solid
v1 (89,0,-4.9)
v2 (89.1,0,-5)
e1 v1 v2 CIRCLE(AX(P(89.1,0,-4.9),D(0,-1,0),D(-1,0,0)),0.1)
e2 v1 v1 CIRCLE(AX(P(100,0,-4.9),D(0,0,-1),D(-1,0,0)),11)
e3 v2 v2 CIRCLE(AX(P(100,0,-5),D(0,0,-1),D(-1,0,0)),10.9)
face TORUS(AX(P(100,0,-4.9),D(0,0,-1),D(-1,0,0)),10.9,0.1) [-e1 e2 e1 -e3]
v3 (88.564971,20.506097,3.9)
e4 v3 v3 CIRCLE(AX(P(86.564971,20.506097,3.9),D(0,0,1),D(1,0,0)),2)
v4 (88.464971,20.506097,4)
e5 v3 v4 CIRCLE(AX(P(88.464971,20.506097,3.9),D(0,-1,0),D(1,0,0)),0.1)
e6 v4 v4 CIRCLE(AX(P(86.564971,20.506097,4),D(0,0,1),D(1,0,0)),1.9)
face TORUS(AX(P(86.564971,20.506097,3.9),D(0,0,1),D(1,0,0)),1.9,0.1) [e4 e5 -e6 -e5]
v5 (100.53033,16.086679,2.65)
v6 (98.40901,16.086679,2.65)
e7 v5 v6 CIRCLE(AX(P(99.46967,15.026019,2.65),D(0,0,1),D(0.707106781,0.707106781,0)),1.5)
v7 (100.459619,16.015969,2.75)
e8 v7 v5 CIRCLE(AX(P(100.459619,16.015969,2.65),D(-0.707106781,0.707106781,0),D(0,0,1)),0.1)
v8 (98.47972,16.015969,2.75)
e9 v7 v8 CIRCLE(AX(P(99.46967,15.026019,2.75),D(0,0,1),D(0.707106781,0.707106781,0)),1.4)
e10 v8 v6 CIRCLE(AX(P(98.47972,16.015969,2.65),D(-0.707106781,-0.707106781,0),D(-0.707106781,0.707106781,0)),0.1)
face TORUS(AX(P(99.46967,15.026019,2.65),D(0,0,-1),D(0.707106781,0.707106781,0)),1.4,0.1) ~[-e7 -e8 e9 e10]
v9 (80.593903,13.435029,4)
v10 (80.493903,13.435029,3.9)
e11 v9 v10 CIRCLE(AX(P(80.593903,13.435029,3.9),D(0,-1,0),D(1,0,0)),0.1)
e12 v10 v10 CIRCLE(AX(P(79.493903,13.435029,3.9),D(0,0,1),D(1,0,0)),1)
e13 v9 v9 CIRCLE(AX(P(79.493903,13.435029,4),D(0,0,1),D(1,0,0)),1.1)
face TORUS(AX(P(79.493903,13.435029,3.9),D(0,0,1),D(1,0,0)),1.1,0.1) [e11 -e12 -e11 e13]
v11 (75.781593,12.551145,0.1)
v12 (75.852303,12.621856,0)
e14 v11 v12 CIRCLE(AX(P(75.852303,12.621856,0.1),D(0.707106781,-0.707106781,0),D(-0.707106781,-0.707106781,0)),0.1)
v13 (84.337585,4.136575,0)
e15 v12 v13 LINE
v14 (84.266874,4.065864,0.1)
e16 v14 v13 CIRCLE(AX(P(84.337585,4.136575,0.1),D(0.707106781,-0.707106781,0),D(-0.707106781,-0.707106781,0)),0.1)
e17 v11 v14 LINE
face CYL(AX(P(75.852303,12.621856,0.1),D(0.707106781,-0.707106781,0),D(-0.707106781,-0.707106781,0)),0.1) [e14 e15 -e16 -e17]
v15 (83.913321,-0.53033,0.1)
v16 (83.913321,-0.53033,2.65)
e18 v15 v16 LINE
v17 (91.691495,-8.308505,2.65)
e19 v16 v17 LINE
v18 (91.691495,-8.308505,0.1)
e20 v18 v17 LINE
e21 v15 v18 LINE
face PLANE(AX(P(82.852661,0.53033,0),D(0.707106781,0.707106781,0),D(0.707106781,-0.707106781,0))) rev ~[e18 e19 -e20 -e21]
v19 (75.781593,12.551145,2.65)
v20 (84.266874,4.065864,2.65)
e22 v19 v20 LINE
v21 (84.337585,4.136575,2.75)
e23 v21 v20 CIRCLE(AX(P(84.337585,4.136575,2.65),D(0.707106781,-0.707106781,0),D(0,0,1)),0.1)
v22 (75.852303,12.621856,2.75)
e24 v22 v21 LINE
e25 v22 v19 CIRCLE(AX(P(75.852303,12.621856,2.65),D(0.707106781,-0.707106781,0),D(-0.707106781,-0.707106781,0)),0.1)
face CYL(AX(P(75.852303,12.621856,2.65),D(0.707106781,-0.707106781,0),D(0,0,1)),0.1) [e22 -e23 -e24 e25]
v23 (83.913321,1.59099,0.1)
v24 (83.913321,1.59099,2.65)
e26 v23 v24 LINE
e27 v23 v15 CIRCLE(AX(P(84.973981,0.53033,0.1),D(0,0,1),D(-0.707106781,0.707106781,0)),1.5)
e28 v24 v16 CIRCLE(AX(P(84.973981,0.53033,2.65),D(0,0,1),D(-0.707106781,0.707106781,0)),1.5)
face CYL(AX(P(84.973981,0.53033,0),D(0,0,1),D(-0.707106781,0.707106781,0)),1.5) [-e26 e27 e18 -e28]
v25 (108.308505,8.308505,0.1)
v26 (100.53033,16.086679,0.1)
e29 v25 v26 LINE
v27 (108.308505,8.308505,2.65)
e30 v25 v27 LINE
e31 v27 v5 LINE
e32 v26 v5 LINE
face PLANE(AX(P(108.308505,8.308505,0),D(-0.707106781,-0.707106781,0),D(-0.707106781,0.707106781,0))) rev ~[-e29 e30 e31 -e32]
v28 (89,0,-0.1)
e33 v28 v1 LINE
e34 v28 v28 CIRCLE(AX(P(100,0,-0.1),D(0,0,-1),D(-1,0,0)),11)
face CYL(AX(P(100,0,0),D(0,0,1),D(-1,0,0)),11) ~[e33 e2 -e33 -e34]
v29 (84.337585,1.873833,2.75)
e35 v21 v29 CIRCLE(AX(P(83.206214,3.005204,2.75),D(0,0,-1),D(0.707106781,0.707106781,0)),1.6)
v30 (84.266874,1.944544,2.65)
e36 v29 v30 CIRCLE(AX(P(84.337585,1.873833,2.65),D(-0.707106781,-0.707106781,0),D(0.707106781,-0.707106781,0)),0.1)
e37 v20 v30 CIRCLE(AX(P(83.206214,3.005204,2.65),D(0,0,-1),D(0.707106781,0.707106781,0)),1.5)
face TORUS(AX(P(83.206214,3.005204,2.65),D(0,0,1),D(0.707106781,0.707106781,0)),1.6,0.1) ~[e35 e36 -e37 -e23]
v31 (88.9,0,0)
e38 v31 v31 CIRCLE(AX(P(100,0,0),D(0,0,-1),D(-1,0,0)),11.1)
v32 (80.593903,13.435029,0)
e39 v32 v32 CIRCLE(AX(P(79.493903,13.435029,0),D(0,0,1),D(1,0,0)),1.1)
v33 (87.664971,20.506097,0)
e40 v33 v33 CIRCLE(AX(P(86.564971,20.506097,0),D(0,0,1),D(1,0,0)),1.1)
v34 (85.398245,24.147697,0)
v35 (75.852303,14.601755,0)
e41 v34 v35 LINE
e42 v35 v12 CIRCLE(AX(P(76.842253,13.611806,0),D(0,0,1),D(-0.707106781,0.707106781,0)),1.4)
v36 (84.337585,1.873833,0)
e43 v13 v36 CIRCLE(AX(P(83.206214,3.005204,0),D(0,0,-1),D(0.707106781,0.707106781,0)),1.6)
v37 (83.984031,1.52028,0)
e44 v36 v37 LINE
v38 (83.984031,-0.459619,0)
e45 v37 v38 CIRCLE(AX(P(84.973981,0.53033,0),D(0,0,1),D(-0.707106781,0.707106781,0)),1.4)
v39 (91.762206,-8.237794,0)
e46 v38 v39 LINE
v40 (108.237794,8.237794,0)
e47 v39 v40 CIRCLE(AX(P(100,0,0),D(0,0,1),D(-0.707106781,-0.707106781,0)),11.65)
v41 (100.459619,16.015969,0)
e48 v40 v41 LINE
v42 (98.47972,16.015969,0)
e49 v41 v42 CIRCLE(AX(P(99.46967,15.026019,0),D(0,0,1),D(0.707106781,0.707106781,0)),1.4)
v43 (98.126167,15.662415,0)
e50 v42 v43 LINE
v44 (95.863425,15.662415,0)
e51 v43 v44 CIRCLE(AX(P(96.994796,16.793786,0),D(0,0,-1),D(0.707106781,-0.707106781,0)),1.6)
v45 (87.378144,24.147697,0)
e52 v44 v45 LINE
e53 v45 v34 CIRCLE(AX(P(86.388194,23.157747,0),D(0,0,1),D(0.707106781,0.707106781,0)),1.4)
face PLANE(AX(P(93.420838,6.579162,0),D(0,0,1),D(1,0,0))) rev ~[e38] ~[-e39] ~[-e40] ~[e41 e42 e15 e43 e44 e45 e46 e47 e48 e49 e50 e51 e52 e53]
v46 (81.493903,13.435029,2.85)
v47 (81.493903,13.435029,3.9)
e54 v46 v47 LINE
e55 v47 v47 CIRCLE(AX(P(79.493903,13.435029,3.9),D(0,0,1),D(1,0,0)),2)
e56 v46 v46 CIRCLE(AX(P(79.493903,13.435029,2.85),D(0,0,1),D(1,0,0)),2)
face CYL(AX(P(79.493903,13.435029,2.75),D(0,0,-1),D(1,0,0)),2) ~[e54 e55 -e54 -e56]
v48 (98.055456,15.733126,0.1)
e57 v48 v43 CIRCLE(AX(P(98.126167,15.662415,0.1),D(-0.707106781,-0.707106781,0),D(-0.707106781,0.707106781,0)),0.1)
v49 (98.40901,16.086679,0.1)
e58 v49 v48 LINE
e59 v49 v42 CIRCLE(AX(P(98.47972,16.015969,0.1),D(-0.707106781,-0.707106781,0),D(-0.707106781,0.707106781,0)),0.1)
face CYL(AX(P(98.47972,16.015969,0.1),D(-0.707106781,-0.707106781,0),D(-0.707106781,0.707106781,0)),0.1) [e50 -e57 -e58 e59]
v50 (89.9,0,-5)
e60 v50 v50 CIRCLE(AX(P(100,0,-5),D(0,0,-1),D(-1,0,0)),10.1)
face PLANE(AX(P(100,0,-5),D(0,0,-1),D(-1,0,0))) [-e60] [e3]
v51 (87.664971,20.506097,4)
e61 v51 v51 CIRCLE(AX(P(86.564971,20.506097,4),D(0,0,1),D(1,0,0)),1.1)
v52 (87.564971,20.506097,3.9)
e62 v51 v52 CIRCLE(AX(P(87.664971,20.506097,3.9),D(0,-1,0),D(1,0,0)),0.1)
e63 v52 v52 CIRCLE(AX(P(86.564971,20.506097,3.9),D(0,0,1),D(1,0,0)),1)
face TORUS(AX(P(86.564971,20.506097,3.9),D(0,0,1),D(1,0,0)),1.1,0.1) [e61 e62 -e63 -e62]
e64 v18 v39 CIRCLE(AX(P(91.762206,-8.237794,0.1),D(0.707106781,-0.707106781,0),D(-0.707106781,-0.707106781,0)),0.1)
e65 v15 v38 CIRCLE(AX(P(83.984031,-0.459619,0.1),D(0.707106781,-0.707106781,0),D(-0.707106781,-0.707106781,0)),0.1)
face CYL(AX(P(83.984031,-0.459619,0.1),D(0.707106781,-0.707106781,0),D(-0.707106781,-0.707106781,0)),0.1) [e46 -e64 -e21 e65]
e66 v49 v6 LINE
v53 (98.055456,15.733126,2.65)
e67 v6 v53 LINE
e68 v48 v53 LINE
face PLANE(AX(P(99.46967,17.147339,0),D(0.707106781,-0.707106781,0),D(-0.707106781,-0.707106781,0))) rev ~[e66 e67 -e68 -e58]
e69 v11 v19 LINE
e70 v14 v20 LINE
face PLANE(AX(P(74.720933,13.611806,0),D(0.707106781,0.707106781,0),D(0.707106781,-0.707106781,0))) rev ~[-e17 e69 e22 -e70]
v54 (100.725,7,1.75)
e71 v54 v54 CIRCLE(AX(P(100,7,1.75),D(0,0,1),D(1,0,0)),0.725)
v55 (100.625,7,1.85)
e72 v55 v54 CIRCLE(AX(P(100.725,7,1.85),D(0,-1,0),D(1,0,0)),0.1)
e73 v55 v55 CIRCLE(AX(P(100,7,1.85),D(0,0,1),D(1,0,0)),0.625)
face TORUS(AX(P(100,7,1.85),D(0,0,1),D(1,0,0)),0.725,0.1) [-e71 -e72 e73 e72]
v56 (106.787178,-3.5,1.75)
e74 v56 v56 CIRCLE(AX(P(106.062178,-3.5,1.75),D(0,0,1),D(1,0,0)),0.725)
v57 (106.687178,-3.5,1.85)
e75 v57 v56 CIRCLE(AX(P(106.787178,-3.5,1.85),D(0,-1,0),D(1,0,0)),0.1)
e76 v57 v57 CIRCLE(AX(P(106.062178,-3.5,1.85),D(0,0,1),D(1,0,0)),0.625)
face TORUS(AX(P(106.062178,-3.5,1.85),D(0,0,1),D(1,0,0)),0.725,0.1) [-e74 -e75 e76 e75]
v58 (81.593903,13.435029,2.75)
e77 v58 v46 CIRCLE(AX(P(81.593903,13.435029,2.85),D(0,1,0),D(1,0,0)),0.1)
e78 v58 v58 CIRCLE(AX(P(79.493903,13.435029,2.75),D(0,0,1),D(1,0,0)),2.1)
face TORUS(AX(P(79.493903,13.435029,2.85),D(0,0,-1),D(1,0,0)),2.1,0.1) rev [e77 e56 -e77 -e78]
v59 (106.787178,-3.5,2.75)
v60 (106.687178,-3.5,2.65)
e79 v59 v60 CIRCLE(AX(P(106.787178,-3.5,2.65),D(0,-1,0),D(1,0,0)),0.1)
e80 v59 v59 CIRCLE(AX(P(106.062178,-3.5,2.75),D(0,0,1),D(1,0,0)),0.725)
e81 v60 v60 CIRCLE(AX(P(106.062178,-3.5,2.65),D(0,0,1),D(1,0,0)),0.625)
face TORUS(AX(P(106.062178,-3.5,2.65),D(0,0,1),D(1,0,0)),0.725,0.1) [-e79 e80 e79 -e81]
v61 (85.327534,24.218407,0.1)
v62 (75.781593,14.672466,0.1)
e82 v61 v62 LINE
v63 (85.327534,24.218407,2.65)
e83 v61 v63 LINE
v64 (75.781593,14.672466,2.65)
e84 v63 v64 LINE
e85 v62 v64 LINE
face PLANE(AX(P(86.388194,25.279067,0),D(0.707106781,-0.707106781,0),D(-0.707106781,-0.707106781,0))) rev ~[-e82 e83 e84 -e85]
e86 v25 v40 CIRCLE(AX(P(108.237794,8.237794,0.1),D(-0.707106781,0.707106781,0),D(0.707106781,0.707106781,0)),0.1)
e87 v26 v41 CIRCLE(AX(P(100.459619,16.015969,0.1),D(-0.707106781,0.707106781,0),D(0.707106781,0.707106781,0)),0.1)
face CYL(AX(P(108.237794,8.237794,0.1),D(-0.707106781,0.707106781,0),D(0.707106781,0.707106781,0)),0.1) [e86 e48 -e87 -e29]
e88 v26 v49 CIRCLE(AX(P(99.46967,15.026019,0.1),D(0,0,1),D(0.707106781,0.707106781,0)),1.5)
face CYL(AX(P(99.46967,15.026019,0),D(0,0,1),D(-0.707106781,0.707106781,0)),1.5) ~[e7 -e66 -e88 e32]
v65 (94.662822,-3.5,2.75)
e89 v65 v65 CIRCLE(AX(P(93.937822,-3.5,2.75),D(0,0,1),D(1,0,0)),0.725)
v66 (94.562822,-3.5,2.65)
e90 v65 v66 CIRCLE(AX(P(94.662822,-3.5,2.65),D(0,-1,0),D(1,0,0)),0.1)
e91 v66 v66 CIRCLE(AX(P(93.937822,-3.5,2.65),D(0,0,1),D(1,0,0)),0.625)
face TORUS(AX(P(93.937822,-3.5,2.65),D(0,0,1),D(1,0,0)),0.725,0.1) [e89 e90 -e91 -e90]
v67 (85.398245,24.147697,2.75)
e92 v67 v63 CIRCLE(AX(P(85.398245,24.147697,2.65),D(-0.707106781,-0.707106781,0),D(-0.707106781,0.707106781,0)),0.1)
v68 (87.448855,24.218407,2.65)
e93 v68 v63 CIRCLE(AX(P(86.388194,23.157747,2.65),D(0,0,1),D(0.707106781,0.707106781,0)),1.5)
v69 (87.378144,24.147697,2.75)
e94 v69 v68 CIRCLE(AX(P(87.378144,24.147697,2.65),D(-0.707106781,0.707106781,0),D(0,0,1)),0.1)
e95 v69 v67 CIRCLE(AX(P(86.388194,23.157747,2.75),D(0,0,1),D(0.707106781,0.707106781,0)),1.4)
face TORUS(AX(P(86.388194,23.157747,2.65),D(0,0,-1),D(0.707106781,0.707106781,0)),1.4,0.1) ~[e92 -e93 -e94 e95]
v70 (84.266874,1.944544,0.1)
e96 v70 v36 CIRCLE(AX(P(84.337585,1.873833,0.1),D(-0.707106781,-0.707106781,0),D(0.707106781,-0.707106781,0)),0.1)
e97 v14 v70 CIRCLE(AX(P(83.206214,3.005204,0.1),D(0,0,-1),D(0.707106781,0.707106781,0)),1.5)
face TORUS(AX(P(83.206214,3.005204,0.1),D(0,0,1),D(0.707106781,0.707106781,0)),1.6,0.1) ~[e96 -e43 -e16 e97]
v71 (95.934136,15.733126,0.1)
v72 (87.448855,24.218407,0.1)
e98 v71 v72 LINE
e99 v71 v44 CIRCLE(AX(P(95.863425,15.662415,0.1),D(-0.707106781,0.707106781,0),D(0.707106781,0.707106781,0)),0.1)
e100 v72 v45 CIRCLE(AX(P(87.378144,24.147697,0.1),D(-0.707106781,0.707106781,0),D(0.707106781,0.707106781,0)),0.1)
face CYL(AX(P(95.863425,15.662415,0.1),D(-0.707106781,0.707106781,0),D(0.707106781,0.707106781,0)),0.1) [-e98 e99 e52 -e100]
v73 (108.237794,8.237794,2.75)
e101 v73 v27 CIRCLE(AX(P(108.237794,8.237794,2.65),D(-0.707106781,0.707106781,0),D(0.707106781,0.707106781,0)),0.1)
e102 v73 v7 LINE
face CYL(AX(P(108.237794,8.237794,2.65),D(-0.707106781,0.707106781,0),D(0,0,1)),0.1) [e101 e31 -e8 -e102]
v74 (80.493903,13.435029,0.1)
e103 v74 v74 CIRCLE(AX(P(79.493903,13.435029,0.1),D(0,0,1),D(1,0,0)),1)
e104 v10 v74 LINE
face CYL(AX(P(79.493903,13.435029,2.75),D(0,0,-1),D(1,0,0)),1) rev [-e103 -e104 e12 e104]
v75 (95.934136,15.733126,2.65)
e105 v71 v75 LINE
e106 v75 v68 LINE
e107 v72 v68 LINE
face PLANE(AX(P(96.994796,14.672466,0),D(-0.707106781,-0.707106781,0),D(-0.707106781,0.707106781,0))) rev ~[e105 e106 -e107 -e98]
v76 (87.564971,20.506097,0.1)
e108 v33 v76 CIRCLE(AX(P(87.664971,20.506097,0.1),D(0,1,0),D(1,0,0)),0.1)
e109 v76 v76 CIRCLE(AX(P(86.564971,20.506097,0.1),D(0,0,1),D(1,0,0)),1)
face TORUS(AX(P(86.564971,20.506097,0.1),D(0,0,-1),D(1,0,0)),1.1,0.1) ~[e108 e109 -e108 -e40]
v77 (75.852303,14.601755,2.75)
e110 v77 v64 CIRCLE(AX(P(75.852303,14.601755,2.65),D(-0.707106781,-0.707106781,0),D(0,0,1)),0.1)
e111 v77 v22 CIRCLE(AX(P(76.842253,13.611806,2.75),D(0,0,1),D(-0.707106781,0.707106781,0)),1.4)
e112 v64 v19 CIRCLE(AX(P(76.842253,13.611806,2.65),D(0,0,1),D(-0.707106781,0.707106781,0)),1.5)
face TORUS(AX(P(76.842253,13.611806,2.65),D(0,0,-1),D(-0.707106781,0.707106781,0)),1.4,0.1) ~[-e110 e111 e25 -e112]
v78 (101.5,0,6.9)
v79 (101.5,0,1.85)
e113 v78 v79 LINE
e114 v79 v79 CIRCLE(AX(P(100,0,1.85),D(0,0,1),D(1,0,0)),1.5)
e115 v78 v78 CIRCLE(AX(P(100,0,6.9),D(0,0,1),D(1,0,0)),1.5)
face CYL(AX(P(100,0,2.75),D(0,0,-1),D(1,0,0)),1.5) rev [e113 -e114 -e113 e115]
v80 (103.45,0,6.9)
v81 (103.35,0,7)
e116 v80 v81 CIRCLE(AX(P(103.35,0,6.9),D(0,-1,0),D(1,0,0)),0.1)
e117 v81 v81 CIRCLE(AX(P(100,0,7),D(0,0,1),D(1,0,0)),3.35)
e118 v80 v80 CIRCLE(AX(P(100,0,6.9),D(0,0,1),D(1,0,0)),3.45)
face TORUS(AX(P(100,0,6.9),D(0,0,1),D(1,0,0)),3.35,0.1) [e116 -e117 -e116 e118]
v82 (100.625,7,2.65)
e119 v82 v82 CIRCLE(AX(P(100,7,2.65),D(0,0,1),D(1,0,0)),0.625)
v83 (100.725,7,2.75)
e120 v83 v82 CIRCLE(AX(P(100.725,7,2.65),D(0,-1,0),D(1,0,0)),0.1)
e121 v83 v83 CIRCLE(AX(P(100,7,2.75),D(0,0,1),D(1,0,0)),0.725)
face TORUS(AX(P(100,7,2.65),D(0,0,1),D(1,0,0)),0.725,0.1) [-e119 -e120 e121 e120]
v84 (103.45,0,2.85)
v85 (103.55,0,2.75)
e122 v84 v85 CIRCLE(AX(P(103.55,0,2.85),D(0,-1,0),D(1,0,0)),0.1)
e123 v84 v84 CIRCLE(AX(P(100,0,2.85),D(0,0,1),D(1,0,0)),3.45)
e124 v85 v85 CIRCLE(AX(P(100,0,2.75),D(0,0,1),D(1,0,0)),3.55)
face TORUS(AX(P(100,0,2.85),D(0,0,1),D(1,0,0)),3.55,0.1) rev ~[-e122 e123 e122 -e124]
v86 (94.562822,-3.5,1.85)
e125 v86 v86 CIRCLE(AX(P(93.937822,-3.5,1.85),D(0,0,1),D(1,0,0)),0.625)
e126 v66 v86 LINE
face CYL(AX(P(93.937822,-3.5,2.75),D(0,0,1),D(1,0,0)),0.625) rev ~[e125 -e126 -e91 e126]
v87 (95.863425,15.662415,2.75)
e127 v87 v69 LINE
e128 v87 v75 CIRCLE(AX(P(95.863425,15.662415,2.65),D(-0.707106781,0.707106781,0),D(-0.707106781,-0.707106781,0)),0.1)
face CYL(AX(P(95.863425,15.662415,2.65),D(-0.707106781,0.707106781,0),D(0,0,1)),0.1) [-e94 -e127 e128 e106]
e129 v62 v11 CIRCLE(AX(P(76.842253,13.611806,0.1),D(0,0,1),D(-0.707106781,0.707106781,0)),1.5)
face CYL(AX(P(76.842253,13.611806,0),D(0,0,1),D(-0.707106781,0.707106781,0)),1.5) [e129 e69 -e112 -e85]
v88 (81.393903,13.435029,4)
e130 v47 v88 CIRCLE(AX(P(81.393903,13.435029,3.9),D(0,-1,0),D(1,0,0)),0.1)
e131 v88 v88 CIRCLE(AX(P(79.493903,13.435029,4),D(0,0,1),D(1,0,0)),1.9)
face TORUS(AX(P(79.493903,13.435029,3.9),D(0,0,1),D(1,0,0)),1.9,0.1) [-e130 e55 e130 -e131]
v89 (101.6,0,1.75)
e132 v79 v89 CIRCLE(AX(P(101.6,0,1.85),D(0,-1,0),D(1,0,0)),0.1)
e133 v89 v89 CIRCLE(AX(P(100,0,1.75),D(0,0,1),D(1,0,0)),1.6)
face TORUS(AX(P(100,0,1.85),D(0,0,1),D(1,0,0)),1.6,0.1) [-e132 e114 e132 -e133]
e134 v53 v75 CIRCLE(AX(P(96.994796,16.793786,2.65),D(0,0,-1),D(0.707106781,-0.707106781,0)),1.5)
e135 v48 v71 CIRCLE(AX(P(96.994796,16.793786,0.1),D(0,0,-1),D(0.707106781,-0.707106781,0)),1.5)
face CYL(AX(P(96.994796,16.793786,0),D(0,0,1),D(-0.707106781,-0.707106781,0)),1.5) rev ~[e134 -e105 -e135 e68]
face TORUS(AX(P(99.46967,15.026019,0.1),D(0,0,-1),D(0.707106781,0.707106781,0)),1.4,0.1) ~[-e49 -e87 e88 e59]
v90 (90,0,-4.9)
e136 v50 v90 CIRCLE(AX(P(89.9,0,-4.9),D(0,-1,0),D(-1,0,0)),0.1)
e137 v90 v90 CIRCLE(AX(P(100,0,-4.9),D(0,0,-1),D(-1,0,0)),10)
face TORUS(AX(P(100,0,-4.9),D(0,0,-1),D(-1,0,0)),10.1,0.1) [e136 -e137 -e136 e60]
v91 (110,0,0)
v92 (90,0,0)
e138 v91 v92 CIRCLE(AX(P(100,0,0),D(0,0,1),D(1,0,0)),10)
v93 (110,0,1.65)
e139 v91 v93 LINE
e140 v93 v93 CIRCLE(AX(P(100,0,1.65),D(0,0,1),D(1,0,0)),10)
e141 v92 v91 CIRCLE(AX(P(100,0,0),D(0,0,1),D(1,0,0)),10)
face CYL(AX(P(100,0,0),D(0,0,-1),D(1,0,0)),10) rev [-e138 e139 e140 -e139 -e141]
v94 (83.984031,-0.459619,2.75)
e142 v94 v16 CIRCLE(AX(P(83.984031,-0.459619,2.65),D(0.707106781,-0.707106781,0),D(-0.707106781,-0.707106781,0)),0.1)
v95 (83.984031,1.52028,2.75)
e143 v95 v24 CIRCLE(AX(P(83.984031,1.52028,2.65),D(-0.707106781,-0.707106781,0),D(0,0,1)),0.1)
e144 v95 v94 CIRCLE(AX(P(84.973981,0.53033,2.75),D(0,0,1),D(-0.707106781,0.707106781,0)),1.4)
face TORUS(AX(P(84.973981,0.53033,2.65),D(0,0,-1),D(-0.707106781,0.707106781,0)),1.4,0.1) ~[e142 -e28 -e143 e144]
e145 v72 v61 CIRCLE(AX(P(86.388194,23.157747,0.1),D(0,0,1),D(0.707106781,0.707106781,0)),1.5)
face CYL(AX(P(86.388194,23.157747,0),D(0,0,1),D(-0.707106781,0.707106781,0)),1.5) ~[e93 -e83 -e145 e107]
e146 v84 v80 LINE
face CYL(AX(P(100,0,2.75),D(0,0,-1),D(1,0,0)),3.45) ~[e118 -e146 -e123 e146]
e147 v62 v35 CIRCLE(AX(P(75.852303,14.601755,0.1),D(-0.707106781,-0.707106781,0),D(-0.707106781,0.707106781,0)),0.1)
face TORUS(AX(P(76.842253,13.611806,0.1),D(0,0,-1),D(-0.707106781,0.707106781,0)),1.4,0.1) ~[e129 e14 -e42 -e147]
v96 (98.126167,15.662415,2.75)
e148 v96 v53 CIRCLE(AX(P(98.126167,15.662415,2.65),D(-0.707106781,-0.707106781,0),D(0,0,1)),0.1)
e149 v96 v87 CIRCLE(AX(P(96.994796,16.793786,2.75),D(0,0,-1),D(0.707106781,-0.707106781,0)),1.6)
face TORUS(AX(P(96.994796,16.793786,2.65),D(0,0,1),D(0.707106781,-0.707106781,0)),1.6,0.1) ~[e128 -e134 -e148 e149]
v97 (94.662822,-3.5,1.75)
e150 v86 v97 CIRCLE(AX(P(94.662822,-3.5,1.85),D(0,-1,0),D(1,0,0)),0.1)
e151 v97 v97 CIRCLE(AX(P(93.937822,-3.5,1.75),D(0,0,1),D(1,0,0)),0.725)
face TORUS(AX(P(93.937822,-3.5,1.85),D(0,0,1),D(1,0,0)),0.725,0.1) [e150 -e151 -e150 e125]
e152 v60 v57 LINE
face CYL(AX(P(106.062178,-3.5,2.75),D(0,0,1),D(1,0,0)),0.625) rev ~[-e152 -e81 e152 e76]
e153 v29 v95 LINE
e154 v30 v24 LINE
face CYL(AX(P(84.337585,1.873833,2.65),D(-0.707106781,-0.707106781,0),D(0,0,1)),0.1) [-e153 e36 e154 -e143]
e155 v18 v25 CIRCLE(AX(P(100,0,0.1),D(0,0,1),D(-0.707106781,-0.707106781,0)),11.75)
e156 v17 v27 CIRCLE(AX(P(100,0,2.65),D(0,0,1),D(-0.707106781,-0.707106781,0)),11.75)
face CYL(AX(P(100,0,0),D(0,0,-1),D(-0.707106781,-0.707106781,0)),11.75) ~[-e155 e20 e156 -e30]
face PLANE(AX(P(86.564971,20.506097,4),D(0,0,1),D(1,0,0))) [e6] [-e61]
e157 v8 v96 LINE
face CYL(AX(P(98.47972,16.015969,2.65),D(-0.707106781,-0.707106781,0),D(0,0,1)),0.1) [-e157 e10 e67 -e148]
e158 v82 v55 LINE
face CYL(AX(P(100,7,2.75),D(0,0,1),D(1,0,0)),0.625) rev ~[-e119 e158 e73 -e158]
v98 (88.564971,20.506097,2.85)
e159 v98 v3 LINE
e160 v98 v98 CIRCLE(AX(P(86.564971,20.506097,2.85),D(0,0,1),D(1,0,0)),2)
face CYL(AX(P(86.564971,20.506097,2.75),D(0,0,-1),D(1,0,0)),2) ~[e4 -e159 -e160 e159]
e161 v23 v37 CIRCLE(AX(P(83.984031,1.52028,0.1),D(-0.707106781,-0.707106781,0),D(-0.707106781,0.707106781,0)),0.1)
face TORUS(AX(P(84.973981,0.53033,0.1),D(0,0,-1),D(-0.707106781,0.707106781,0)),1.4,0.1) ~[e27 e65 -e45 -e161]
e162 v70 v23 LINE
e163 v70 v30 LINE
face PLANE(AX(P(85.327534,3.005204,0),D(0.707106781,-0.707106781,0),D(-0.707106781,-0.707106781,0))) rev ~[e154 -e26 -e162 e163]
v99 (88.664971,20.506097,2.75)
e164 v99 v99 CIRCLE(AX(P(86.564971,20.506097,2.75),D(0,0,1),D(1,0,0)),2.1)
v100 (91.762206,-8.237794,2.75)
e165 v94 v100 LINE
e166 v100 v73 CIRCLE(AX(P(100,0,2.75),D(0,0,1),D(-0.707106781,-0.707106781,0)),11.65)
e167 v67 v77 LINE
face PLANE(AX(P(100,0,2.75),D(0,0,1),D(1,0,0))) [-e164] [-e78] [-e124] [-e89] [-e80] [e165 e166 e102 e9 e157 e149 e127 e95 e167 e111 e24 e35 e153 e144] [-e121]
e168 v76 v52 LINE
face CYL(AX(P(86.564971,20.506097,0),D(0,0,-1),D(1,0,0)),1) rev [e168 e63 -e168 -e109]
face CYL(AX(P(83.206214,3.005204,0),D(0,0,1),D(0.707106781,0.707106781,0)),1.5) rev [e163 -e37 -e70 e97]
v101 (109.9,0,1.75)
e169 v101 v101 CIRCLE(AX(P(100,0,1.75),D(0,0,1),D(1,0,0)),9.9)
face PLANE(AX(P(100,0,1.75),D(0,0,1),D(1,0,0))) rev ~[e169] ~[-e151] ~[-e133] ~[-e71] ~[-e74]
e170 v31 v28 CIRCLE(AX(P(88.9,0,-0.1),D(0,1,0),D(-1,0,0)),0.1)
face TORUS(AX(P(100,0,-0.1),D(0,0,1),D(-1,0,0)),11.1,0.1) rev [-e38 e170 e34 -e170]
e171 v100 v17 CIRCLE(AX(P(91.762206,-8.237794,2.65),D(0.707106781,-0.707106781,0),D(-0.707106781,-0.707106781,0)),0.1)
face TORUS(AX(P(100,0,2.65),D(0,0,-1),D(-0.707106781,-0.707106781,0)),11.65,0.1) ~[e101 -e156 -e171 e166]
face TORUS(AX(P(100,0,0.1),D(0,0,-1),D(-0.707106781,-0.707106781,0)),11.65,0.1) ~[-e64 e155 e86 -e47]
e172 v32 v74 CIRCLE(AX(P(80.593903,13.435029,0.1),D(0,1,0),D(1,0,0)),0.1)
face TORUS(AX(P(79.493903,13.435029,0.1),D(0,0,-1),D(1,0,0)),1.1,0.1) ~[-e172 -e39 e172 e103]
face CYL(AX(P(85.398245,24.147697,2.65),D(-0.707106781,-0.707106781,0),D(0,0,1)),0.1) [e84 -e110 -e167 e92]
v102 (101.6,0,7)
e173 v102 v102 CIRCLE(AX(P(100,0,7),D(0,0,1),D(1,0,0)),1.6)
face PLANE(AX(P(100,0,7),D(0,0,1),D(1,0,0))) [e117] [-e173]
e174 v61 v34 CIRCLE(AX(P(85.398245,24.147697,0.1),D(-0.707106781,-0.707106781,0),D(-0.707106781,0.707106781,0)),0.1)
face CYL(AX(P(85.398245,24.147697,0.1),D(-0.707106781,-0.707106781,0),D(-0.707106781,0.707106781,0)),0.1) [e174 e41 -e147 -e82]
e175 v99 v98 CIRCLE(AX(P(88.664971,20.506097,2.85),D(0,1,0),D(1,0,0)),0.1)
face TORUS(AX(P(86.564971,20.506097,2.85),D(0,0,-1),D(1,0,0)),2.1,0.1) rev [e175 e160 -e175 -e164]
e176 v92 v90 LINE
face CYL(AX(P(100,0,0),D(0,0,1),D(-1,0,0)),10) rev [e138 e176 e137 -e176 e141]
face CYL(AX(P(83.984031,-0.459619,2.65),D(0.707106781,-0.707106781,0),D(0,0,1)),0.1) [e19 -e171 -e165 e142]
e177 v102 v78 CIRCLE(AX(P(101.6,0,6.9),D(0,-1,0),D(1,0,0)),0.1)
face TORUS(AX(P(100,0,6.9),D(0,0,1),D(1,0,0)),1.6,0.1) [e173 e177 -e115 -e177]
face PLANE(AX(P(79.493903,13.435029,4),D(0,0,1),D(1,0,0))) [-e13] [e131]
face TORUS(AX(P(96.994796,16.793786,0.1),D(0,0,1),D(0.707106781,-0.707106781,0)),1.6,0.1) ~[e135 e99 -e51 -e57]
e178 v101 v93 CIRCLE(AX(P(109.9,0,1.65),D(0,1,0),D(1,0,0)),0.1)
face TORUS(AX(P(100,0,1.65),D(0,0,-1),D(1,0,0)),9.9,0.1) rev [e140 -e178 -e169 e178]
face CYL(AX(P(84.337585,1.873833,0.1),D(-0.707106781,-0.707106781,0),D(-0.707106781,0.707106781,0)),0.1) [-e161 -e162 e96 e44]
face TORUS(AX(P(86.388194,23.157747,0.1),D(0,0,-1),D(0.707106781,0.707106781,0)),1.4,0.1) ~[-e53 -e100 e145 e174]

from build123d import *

# Parameters (mm, degrees)
SKETCH6_R           = 10
SKETCH6_R_2         = 1
BOSS_EXTRUDE1_DEPTH = 2.75
SKETCH7_R           = 10
BOSS_EXTRUDE2_DEPTH = 1
SKETCH9_R           = 11
SKETCH9_R_2         = 10
BOSS_EXTRUDE3_DEPTH = 5
FILLET1_R           = 1.5
SKETCH10_R          = 2
SKETCH10_R_2        = 1
BOSS_EXTRUDE4_DEPTH = 1.25
SKETCH11_R          = 1.5
CUT_EXTRUDE1_DEPTH  = 1
SKETCH12_R          = 3.45
SKETCH12_R_2        = 1.5
BOSS_EXTRUDE5_DEPTH = 4.25
SKETCH13_R          = 0.625
CUT_EXTRUDE2_DEPTH  = 1
FILLET2_R           = 0.1


with BuildPart() as part:
    # Sketch6 → Boss-Extrude1 (new body)
    with BuildSketch(Plane.XY):
        with BuildLine():
            Line((86.388194462, 25.279067427), (74.720932573, 13.611805538))
            Line((74.720932573, 13.611805538), (85.32753429, 3.00520382))
            Line((85.32753429, 3.00520382), (82.852660556, 0.530330086))
            Line((82.852660556, 0.530330086), (91.691495321, -8.308504679))
            ThreePointArc((91.691495321, -8.308504679), (108.308504679, -8.308504679), (108.308504679, 8.308504679))
            Line((108.308504679, 8.308504679), (99.469669914, 17.147339444))
            Line((99.469669914, 17.147339444), (96.99479618, 14.67246571))
            Line((96.99479618, 14.67246571), (86.388194462, 25.279067427))
        make_face()
        with Locations((100, 0)):
            Circle(SKETCH6_R, mode=Mode.SUBTRACT)
        with Locations((86.564971157, 20.506096654)):
            Circle(SKETCH6_R_2, mode=Mode.SUBTRACT)
        with Locations((79.493903346, 13.435028843)):
            Circle(SKETCH6_R_2, mode=Mode.SUBTRACT)
    extrude(amount=BOSS_EXTRUDE1_DEPTH)

    # Sketch7 → Boss-Extrude2 (add)
    with BuildSketch(Plane.XY.offset(2.75)):
        with Locations((100, 0)):
            Circle(SKETCH7_R)
    extrude(amount=-BOSS_EXTRUDE2_DEPTH)

    # Sketch9 → Boss-Extrude3 (add)
    with BuildSketch(Plane(origin=(0, 0, 0), x_dir=(-1, 0, 0), z_dir=(0, 0, -1))):
        with Locations((-100, 0)):
            Circle(SKETCH9_R)
        with Locations((-100, 0)):
            Circle(SKETCH9_R_2, mode=Mode.SUBTRACT)
    extrude(amount=BOSS_EXTRUDE3_DEPTH)

    # Fillet1
    fillet1_edges = [part.edges().sort_by_distance(p)[0] for p in [
        (96.99479618, 14.67246571, 1.375),
        (99.469669914, 17.147339444, 1.375),
        (82.852660556, 0.530330086, 1.375),
        (85.32753429, 3.00520382, 1.375),
        (74.720932573, 13.611805538, 1.375),
        (86.388194462, 25.279067427, 1.375),
    ]]
    fillet(fillet1_edges, radius=FILLET1_R)

    # Sketch10 → Boss-Extrude4 (add)
    with BuildSketch(Plane.XY.offset(2.75)):
        with Locations((79.493903346, 13.435028843)):
            Circle(SKETCH10_R)
        with Locations((79.493903346, 13.435028843)):
            Circle(SKETCH10_R_2, mode=Mode.SUBTRACT)
        with Locations((86.564971157, 20.506096654)):
            Circle(SKETCH10_R)
        with Locations((86.564971157, 20.506096654)):
            Circle(SKETCH10_R_2, mode=Mode.SUBTRACT)
    extrude(amount=BOSS_EXTRUDE4_DEPTH)

    # Sketch11 → Cut-Extrude1 (cut)
    with BuildSketch(Plane.XY.offset(2.75)):
        with Locations((100, 0)):
            Circle(SKETCH11_R)
    extrude(amount=-CUT_EXTRUDE1_DEPTH, mode=Mode.SUBTRACT)

    # Sketch12 → Boss-Extrude5 (add)
    with BuildSketch(Plane.XY.offset(2.75)):
        with Locations((100, 0)):
            Circle(SKETCH12_R)
        with Locations((100, 0)):
            Circle(SKETCH12_R_2, mode=Mode.SUBTRACT)
    extrude(amount=BOSS_EXTRUDE5_DEPTH)

    # Sketch13 → Cut-Extrude2 (cut)
    with BuildSketch(Plane.XY.offset(2.75)):
        with Locations((100, 7)):
            Circle(SKETCH13_R)
        with Locations((106.062177826, -3.5)):
            Circle(SKETCH13_R)
        with Locations((93.937822174, -3.5)):
            Circle(SKETCH13_R)
    extrude(amount=-CUT_EXTRUDE2_DEPTH, mode=Mode.SUBTRACT)

    # Fillet2
    fillet2_edges = [part.edges().sort_by_distance(p)[0] for p in [
        (84.564971157, 20.506096654, 4),
        (84.564971157, 20.506096654, 2.75),
        (85.564971157, 20.506096654, 4),
        (98.5, 0, 1.75),
        (96.55, 0, 7),
        (96.55, 0, 2.75),
        (98.5, 0, 7),
        (99.375, 7, 2.75),
        (99.375, 7, 1.75),
        (105.437177826, -3.5, 2.75),
        (105.437177826, -3.5, 1.75),
        (93.312822174, -3.5, 2.75),
        (93.312822174, -3.5, 1.75),
        (108.308504679, -8.308504679, 2.75),
        (85.564971157, 20.506096654, 0),
        (104.419417382, 12.197591975, 2.75),
        (78.493903346, 13.435028843, 0),
        (90, 0, 1.75),
        (111, 0, 0),
        (111, 0, -5),
        (110, 0, -5),
        (91.691495321, 19.975766569, 0),
        (91.691495321, 19.975766569, 2.75),
        (98.232233047, 15.909902577, 0),
        (98.232233047, 15.909902577, 2.75),
        (87.802408025, -4.419417382, 0),
        (84.090097423, 1.767766953, 0),
        (80.024233431, 8.308504679, 0),
        (80.554563517, 19.445436483, 0),
        (86.388194462, 24.657747084, 0),
        (75.342252916, 13.611805538, 0),
        (83.4739809, 0.530330086, 0),
        (99.469669914, 16.5260191, 0),
        (80.554563517, 19.445436483, 2.75),
        (80.024233431, 8.308504679, 2.75),
        (84.090097423, 1.767766953, 2.75),
        (87.802408025, -4.419417382, 2.75),
        (86.388194462, 24.657747084, 2.75),
        (75.342252916, 13.611805538, 2.75),
        (83.4739809, 0.530330086, 2.75),
        (99.469669914, 16.5260191, 2.75),
        (96.99479618, 15.293786053, 0),
        (96.99479618, 15.293786053, 2.75),
        (84.706213947, 3.00520382, 0),
        (84.706213947, 3.00520382, 2.75),
        (104.419417382, 12.197591975, 0),
        (108.308504679, -8.308504679, 0),
        (77.493903346, 13.435028843, 4),
        (77.493903346, 13.435028843, 2.75),
        (78.493903346, 13.435028843, 4),
    ]]
    fillet(fillet2_edges, radius=FILLET2_R)


solid = part.part
